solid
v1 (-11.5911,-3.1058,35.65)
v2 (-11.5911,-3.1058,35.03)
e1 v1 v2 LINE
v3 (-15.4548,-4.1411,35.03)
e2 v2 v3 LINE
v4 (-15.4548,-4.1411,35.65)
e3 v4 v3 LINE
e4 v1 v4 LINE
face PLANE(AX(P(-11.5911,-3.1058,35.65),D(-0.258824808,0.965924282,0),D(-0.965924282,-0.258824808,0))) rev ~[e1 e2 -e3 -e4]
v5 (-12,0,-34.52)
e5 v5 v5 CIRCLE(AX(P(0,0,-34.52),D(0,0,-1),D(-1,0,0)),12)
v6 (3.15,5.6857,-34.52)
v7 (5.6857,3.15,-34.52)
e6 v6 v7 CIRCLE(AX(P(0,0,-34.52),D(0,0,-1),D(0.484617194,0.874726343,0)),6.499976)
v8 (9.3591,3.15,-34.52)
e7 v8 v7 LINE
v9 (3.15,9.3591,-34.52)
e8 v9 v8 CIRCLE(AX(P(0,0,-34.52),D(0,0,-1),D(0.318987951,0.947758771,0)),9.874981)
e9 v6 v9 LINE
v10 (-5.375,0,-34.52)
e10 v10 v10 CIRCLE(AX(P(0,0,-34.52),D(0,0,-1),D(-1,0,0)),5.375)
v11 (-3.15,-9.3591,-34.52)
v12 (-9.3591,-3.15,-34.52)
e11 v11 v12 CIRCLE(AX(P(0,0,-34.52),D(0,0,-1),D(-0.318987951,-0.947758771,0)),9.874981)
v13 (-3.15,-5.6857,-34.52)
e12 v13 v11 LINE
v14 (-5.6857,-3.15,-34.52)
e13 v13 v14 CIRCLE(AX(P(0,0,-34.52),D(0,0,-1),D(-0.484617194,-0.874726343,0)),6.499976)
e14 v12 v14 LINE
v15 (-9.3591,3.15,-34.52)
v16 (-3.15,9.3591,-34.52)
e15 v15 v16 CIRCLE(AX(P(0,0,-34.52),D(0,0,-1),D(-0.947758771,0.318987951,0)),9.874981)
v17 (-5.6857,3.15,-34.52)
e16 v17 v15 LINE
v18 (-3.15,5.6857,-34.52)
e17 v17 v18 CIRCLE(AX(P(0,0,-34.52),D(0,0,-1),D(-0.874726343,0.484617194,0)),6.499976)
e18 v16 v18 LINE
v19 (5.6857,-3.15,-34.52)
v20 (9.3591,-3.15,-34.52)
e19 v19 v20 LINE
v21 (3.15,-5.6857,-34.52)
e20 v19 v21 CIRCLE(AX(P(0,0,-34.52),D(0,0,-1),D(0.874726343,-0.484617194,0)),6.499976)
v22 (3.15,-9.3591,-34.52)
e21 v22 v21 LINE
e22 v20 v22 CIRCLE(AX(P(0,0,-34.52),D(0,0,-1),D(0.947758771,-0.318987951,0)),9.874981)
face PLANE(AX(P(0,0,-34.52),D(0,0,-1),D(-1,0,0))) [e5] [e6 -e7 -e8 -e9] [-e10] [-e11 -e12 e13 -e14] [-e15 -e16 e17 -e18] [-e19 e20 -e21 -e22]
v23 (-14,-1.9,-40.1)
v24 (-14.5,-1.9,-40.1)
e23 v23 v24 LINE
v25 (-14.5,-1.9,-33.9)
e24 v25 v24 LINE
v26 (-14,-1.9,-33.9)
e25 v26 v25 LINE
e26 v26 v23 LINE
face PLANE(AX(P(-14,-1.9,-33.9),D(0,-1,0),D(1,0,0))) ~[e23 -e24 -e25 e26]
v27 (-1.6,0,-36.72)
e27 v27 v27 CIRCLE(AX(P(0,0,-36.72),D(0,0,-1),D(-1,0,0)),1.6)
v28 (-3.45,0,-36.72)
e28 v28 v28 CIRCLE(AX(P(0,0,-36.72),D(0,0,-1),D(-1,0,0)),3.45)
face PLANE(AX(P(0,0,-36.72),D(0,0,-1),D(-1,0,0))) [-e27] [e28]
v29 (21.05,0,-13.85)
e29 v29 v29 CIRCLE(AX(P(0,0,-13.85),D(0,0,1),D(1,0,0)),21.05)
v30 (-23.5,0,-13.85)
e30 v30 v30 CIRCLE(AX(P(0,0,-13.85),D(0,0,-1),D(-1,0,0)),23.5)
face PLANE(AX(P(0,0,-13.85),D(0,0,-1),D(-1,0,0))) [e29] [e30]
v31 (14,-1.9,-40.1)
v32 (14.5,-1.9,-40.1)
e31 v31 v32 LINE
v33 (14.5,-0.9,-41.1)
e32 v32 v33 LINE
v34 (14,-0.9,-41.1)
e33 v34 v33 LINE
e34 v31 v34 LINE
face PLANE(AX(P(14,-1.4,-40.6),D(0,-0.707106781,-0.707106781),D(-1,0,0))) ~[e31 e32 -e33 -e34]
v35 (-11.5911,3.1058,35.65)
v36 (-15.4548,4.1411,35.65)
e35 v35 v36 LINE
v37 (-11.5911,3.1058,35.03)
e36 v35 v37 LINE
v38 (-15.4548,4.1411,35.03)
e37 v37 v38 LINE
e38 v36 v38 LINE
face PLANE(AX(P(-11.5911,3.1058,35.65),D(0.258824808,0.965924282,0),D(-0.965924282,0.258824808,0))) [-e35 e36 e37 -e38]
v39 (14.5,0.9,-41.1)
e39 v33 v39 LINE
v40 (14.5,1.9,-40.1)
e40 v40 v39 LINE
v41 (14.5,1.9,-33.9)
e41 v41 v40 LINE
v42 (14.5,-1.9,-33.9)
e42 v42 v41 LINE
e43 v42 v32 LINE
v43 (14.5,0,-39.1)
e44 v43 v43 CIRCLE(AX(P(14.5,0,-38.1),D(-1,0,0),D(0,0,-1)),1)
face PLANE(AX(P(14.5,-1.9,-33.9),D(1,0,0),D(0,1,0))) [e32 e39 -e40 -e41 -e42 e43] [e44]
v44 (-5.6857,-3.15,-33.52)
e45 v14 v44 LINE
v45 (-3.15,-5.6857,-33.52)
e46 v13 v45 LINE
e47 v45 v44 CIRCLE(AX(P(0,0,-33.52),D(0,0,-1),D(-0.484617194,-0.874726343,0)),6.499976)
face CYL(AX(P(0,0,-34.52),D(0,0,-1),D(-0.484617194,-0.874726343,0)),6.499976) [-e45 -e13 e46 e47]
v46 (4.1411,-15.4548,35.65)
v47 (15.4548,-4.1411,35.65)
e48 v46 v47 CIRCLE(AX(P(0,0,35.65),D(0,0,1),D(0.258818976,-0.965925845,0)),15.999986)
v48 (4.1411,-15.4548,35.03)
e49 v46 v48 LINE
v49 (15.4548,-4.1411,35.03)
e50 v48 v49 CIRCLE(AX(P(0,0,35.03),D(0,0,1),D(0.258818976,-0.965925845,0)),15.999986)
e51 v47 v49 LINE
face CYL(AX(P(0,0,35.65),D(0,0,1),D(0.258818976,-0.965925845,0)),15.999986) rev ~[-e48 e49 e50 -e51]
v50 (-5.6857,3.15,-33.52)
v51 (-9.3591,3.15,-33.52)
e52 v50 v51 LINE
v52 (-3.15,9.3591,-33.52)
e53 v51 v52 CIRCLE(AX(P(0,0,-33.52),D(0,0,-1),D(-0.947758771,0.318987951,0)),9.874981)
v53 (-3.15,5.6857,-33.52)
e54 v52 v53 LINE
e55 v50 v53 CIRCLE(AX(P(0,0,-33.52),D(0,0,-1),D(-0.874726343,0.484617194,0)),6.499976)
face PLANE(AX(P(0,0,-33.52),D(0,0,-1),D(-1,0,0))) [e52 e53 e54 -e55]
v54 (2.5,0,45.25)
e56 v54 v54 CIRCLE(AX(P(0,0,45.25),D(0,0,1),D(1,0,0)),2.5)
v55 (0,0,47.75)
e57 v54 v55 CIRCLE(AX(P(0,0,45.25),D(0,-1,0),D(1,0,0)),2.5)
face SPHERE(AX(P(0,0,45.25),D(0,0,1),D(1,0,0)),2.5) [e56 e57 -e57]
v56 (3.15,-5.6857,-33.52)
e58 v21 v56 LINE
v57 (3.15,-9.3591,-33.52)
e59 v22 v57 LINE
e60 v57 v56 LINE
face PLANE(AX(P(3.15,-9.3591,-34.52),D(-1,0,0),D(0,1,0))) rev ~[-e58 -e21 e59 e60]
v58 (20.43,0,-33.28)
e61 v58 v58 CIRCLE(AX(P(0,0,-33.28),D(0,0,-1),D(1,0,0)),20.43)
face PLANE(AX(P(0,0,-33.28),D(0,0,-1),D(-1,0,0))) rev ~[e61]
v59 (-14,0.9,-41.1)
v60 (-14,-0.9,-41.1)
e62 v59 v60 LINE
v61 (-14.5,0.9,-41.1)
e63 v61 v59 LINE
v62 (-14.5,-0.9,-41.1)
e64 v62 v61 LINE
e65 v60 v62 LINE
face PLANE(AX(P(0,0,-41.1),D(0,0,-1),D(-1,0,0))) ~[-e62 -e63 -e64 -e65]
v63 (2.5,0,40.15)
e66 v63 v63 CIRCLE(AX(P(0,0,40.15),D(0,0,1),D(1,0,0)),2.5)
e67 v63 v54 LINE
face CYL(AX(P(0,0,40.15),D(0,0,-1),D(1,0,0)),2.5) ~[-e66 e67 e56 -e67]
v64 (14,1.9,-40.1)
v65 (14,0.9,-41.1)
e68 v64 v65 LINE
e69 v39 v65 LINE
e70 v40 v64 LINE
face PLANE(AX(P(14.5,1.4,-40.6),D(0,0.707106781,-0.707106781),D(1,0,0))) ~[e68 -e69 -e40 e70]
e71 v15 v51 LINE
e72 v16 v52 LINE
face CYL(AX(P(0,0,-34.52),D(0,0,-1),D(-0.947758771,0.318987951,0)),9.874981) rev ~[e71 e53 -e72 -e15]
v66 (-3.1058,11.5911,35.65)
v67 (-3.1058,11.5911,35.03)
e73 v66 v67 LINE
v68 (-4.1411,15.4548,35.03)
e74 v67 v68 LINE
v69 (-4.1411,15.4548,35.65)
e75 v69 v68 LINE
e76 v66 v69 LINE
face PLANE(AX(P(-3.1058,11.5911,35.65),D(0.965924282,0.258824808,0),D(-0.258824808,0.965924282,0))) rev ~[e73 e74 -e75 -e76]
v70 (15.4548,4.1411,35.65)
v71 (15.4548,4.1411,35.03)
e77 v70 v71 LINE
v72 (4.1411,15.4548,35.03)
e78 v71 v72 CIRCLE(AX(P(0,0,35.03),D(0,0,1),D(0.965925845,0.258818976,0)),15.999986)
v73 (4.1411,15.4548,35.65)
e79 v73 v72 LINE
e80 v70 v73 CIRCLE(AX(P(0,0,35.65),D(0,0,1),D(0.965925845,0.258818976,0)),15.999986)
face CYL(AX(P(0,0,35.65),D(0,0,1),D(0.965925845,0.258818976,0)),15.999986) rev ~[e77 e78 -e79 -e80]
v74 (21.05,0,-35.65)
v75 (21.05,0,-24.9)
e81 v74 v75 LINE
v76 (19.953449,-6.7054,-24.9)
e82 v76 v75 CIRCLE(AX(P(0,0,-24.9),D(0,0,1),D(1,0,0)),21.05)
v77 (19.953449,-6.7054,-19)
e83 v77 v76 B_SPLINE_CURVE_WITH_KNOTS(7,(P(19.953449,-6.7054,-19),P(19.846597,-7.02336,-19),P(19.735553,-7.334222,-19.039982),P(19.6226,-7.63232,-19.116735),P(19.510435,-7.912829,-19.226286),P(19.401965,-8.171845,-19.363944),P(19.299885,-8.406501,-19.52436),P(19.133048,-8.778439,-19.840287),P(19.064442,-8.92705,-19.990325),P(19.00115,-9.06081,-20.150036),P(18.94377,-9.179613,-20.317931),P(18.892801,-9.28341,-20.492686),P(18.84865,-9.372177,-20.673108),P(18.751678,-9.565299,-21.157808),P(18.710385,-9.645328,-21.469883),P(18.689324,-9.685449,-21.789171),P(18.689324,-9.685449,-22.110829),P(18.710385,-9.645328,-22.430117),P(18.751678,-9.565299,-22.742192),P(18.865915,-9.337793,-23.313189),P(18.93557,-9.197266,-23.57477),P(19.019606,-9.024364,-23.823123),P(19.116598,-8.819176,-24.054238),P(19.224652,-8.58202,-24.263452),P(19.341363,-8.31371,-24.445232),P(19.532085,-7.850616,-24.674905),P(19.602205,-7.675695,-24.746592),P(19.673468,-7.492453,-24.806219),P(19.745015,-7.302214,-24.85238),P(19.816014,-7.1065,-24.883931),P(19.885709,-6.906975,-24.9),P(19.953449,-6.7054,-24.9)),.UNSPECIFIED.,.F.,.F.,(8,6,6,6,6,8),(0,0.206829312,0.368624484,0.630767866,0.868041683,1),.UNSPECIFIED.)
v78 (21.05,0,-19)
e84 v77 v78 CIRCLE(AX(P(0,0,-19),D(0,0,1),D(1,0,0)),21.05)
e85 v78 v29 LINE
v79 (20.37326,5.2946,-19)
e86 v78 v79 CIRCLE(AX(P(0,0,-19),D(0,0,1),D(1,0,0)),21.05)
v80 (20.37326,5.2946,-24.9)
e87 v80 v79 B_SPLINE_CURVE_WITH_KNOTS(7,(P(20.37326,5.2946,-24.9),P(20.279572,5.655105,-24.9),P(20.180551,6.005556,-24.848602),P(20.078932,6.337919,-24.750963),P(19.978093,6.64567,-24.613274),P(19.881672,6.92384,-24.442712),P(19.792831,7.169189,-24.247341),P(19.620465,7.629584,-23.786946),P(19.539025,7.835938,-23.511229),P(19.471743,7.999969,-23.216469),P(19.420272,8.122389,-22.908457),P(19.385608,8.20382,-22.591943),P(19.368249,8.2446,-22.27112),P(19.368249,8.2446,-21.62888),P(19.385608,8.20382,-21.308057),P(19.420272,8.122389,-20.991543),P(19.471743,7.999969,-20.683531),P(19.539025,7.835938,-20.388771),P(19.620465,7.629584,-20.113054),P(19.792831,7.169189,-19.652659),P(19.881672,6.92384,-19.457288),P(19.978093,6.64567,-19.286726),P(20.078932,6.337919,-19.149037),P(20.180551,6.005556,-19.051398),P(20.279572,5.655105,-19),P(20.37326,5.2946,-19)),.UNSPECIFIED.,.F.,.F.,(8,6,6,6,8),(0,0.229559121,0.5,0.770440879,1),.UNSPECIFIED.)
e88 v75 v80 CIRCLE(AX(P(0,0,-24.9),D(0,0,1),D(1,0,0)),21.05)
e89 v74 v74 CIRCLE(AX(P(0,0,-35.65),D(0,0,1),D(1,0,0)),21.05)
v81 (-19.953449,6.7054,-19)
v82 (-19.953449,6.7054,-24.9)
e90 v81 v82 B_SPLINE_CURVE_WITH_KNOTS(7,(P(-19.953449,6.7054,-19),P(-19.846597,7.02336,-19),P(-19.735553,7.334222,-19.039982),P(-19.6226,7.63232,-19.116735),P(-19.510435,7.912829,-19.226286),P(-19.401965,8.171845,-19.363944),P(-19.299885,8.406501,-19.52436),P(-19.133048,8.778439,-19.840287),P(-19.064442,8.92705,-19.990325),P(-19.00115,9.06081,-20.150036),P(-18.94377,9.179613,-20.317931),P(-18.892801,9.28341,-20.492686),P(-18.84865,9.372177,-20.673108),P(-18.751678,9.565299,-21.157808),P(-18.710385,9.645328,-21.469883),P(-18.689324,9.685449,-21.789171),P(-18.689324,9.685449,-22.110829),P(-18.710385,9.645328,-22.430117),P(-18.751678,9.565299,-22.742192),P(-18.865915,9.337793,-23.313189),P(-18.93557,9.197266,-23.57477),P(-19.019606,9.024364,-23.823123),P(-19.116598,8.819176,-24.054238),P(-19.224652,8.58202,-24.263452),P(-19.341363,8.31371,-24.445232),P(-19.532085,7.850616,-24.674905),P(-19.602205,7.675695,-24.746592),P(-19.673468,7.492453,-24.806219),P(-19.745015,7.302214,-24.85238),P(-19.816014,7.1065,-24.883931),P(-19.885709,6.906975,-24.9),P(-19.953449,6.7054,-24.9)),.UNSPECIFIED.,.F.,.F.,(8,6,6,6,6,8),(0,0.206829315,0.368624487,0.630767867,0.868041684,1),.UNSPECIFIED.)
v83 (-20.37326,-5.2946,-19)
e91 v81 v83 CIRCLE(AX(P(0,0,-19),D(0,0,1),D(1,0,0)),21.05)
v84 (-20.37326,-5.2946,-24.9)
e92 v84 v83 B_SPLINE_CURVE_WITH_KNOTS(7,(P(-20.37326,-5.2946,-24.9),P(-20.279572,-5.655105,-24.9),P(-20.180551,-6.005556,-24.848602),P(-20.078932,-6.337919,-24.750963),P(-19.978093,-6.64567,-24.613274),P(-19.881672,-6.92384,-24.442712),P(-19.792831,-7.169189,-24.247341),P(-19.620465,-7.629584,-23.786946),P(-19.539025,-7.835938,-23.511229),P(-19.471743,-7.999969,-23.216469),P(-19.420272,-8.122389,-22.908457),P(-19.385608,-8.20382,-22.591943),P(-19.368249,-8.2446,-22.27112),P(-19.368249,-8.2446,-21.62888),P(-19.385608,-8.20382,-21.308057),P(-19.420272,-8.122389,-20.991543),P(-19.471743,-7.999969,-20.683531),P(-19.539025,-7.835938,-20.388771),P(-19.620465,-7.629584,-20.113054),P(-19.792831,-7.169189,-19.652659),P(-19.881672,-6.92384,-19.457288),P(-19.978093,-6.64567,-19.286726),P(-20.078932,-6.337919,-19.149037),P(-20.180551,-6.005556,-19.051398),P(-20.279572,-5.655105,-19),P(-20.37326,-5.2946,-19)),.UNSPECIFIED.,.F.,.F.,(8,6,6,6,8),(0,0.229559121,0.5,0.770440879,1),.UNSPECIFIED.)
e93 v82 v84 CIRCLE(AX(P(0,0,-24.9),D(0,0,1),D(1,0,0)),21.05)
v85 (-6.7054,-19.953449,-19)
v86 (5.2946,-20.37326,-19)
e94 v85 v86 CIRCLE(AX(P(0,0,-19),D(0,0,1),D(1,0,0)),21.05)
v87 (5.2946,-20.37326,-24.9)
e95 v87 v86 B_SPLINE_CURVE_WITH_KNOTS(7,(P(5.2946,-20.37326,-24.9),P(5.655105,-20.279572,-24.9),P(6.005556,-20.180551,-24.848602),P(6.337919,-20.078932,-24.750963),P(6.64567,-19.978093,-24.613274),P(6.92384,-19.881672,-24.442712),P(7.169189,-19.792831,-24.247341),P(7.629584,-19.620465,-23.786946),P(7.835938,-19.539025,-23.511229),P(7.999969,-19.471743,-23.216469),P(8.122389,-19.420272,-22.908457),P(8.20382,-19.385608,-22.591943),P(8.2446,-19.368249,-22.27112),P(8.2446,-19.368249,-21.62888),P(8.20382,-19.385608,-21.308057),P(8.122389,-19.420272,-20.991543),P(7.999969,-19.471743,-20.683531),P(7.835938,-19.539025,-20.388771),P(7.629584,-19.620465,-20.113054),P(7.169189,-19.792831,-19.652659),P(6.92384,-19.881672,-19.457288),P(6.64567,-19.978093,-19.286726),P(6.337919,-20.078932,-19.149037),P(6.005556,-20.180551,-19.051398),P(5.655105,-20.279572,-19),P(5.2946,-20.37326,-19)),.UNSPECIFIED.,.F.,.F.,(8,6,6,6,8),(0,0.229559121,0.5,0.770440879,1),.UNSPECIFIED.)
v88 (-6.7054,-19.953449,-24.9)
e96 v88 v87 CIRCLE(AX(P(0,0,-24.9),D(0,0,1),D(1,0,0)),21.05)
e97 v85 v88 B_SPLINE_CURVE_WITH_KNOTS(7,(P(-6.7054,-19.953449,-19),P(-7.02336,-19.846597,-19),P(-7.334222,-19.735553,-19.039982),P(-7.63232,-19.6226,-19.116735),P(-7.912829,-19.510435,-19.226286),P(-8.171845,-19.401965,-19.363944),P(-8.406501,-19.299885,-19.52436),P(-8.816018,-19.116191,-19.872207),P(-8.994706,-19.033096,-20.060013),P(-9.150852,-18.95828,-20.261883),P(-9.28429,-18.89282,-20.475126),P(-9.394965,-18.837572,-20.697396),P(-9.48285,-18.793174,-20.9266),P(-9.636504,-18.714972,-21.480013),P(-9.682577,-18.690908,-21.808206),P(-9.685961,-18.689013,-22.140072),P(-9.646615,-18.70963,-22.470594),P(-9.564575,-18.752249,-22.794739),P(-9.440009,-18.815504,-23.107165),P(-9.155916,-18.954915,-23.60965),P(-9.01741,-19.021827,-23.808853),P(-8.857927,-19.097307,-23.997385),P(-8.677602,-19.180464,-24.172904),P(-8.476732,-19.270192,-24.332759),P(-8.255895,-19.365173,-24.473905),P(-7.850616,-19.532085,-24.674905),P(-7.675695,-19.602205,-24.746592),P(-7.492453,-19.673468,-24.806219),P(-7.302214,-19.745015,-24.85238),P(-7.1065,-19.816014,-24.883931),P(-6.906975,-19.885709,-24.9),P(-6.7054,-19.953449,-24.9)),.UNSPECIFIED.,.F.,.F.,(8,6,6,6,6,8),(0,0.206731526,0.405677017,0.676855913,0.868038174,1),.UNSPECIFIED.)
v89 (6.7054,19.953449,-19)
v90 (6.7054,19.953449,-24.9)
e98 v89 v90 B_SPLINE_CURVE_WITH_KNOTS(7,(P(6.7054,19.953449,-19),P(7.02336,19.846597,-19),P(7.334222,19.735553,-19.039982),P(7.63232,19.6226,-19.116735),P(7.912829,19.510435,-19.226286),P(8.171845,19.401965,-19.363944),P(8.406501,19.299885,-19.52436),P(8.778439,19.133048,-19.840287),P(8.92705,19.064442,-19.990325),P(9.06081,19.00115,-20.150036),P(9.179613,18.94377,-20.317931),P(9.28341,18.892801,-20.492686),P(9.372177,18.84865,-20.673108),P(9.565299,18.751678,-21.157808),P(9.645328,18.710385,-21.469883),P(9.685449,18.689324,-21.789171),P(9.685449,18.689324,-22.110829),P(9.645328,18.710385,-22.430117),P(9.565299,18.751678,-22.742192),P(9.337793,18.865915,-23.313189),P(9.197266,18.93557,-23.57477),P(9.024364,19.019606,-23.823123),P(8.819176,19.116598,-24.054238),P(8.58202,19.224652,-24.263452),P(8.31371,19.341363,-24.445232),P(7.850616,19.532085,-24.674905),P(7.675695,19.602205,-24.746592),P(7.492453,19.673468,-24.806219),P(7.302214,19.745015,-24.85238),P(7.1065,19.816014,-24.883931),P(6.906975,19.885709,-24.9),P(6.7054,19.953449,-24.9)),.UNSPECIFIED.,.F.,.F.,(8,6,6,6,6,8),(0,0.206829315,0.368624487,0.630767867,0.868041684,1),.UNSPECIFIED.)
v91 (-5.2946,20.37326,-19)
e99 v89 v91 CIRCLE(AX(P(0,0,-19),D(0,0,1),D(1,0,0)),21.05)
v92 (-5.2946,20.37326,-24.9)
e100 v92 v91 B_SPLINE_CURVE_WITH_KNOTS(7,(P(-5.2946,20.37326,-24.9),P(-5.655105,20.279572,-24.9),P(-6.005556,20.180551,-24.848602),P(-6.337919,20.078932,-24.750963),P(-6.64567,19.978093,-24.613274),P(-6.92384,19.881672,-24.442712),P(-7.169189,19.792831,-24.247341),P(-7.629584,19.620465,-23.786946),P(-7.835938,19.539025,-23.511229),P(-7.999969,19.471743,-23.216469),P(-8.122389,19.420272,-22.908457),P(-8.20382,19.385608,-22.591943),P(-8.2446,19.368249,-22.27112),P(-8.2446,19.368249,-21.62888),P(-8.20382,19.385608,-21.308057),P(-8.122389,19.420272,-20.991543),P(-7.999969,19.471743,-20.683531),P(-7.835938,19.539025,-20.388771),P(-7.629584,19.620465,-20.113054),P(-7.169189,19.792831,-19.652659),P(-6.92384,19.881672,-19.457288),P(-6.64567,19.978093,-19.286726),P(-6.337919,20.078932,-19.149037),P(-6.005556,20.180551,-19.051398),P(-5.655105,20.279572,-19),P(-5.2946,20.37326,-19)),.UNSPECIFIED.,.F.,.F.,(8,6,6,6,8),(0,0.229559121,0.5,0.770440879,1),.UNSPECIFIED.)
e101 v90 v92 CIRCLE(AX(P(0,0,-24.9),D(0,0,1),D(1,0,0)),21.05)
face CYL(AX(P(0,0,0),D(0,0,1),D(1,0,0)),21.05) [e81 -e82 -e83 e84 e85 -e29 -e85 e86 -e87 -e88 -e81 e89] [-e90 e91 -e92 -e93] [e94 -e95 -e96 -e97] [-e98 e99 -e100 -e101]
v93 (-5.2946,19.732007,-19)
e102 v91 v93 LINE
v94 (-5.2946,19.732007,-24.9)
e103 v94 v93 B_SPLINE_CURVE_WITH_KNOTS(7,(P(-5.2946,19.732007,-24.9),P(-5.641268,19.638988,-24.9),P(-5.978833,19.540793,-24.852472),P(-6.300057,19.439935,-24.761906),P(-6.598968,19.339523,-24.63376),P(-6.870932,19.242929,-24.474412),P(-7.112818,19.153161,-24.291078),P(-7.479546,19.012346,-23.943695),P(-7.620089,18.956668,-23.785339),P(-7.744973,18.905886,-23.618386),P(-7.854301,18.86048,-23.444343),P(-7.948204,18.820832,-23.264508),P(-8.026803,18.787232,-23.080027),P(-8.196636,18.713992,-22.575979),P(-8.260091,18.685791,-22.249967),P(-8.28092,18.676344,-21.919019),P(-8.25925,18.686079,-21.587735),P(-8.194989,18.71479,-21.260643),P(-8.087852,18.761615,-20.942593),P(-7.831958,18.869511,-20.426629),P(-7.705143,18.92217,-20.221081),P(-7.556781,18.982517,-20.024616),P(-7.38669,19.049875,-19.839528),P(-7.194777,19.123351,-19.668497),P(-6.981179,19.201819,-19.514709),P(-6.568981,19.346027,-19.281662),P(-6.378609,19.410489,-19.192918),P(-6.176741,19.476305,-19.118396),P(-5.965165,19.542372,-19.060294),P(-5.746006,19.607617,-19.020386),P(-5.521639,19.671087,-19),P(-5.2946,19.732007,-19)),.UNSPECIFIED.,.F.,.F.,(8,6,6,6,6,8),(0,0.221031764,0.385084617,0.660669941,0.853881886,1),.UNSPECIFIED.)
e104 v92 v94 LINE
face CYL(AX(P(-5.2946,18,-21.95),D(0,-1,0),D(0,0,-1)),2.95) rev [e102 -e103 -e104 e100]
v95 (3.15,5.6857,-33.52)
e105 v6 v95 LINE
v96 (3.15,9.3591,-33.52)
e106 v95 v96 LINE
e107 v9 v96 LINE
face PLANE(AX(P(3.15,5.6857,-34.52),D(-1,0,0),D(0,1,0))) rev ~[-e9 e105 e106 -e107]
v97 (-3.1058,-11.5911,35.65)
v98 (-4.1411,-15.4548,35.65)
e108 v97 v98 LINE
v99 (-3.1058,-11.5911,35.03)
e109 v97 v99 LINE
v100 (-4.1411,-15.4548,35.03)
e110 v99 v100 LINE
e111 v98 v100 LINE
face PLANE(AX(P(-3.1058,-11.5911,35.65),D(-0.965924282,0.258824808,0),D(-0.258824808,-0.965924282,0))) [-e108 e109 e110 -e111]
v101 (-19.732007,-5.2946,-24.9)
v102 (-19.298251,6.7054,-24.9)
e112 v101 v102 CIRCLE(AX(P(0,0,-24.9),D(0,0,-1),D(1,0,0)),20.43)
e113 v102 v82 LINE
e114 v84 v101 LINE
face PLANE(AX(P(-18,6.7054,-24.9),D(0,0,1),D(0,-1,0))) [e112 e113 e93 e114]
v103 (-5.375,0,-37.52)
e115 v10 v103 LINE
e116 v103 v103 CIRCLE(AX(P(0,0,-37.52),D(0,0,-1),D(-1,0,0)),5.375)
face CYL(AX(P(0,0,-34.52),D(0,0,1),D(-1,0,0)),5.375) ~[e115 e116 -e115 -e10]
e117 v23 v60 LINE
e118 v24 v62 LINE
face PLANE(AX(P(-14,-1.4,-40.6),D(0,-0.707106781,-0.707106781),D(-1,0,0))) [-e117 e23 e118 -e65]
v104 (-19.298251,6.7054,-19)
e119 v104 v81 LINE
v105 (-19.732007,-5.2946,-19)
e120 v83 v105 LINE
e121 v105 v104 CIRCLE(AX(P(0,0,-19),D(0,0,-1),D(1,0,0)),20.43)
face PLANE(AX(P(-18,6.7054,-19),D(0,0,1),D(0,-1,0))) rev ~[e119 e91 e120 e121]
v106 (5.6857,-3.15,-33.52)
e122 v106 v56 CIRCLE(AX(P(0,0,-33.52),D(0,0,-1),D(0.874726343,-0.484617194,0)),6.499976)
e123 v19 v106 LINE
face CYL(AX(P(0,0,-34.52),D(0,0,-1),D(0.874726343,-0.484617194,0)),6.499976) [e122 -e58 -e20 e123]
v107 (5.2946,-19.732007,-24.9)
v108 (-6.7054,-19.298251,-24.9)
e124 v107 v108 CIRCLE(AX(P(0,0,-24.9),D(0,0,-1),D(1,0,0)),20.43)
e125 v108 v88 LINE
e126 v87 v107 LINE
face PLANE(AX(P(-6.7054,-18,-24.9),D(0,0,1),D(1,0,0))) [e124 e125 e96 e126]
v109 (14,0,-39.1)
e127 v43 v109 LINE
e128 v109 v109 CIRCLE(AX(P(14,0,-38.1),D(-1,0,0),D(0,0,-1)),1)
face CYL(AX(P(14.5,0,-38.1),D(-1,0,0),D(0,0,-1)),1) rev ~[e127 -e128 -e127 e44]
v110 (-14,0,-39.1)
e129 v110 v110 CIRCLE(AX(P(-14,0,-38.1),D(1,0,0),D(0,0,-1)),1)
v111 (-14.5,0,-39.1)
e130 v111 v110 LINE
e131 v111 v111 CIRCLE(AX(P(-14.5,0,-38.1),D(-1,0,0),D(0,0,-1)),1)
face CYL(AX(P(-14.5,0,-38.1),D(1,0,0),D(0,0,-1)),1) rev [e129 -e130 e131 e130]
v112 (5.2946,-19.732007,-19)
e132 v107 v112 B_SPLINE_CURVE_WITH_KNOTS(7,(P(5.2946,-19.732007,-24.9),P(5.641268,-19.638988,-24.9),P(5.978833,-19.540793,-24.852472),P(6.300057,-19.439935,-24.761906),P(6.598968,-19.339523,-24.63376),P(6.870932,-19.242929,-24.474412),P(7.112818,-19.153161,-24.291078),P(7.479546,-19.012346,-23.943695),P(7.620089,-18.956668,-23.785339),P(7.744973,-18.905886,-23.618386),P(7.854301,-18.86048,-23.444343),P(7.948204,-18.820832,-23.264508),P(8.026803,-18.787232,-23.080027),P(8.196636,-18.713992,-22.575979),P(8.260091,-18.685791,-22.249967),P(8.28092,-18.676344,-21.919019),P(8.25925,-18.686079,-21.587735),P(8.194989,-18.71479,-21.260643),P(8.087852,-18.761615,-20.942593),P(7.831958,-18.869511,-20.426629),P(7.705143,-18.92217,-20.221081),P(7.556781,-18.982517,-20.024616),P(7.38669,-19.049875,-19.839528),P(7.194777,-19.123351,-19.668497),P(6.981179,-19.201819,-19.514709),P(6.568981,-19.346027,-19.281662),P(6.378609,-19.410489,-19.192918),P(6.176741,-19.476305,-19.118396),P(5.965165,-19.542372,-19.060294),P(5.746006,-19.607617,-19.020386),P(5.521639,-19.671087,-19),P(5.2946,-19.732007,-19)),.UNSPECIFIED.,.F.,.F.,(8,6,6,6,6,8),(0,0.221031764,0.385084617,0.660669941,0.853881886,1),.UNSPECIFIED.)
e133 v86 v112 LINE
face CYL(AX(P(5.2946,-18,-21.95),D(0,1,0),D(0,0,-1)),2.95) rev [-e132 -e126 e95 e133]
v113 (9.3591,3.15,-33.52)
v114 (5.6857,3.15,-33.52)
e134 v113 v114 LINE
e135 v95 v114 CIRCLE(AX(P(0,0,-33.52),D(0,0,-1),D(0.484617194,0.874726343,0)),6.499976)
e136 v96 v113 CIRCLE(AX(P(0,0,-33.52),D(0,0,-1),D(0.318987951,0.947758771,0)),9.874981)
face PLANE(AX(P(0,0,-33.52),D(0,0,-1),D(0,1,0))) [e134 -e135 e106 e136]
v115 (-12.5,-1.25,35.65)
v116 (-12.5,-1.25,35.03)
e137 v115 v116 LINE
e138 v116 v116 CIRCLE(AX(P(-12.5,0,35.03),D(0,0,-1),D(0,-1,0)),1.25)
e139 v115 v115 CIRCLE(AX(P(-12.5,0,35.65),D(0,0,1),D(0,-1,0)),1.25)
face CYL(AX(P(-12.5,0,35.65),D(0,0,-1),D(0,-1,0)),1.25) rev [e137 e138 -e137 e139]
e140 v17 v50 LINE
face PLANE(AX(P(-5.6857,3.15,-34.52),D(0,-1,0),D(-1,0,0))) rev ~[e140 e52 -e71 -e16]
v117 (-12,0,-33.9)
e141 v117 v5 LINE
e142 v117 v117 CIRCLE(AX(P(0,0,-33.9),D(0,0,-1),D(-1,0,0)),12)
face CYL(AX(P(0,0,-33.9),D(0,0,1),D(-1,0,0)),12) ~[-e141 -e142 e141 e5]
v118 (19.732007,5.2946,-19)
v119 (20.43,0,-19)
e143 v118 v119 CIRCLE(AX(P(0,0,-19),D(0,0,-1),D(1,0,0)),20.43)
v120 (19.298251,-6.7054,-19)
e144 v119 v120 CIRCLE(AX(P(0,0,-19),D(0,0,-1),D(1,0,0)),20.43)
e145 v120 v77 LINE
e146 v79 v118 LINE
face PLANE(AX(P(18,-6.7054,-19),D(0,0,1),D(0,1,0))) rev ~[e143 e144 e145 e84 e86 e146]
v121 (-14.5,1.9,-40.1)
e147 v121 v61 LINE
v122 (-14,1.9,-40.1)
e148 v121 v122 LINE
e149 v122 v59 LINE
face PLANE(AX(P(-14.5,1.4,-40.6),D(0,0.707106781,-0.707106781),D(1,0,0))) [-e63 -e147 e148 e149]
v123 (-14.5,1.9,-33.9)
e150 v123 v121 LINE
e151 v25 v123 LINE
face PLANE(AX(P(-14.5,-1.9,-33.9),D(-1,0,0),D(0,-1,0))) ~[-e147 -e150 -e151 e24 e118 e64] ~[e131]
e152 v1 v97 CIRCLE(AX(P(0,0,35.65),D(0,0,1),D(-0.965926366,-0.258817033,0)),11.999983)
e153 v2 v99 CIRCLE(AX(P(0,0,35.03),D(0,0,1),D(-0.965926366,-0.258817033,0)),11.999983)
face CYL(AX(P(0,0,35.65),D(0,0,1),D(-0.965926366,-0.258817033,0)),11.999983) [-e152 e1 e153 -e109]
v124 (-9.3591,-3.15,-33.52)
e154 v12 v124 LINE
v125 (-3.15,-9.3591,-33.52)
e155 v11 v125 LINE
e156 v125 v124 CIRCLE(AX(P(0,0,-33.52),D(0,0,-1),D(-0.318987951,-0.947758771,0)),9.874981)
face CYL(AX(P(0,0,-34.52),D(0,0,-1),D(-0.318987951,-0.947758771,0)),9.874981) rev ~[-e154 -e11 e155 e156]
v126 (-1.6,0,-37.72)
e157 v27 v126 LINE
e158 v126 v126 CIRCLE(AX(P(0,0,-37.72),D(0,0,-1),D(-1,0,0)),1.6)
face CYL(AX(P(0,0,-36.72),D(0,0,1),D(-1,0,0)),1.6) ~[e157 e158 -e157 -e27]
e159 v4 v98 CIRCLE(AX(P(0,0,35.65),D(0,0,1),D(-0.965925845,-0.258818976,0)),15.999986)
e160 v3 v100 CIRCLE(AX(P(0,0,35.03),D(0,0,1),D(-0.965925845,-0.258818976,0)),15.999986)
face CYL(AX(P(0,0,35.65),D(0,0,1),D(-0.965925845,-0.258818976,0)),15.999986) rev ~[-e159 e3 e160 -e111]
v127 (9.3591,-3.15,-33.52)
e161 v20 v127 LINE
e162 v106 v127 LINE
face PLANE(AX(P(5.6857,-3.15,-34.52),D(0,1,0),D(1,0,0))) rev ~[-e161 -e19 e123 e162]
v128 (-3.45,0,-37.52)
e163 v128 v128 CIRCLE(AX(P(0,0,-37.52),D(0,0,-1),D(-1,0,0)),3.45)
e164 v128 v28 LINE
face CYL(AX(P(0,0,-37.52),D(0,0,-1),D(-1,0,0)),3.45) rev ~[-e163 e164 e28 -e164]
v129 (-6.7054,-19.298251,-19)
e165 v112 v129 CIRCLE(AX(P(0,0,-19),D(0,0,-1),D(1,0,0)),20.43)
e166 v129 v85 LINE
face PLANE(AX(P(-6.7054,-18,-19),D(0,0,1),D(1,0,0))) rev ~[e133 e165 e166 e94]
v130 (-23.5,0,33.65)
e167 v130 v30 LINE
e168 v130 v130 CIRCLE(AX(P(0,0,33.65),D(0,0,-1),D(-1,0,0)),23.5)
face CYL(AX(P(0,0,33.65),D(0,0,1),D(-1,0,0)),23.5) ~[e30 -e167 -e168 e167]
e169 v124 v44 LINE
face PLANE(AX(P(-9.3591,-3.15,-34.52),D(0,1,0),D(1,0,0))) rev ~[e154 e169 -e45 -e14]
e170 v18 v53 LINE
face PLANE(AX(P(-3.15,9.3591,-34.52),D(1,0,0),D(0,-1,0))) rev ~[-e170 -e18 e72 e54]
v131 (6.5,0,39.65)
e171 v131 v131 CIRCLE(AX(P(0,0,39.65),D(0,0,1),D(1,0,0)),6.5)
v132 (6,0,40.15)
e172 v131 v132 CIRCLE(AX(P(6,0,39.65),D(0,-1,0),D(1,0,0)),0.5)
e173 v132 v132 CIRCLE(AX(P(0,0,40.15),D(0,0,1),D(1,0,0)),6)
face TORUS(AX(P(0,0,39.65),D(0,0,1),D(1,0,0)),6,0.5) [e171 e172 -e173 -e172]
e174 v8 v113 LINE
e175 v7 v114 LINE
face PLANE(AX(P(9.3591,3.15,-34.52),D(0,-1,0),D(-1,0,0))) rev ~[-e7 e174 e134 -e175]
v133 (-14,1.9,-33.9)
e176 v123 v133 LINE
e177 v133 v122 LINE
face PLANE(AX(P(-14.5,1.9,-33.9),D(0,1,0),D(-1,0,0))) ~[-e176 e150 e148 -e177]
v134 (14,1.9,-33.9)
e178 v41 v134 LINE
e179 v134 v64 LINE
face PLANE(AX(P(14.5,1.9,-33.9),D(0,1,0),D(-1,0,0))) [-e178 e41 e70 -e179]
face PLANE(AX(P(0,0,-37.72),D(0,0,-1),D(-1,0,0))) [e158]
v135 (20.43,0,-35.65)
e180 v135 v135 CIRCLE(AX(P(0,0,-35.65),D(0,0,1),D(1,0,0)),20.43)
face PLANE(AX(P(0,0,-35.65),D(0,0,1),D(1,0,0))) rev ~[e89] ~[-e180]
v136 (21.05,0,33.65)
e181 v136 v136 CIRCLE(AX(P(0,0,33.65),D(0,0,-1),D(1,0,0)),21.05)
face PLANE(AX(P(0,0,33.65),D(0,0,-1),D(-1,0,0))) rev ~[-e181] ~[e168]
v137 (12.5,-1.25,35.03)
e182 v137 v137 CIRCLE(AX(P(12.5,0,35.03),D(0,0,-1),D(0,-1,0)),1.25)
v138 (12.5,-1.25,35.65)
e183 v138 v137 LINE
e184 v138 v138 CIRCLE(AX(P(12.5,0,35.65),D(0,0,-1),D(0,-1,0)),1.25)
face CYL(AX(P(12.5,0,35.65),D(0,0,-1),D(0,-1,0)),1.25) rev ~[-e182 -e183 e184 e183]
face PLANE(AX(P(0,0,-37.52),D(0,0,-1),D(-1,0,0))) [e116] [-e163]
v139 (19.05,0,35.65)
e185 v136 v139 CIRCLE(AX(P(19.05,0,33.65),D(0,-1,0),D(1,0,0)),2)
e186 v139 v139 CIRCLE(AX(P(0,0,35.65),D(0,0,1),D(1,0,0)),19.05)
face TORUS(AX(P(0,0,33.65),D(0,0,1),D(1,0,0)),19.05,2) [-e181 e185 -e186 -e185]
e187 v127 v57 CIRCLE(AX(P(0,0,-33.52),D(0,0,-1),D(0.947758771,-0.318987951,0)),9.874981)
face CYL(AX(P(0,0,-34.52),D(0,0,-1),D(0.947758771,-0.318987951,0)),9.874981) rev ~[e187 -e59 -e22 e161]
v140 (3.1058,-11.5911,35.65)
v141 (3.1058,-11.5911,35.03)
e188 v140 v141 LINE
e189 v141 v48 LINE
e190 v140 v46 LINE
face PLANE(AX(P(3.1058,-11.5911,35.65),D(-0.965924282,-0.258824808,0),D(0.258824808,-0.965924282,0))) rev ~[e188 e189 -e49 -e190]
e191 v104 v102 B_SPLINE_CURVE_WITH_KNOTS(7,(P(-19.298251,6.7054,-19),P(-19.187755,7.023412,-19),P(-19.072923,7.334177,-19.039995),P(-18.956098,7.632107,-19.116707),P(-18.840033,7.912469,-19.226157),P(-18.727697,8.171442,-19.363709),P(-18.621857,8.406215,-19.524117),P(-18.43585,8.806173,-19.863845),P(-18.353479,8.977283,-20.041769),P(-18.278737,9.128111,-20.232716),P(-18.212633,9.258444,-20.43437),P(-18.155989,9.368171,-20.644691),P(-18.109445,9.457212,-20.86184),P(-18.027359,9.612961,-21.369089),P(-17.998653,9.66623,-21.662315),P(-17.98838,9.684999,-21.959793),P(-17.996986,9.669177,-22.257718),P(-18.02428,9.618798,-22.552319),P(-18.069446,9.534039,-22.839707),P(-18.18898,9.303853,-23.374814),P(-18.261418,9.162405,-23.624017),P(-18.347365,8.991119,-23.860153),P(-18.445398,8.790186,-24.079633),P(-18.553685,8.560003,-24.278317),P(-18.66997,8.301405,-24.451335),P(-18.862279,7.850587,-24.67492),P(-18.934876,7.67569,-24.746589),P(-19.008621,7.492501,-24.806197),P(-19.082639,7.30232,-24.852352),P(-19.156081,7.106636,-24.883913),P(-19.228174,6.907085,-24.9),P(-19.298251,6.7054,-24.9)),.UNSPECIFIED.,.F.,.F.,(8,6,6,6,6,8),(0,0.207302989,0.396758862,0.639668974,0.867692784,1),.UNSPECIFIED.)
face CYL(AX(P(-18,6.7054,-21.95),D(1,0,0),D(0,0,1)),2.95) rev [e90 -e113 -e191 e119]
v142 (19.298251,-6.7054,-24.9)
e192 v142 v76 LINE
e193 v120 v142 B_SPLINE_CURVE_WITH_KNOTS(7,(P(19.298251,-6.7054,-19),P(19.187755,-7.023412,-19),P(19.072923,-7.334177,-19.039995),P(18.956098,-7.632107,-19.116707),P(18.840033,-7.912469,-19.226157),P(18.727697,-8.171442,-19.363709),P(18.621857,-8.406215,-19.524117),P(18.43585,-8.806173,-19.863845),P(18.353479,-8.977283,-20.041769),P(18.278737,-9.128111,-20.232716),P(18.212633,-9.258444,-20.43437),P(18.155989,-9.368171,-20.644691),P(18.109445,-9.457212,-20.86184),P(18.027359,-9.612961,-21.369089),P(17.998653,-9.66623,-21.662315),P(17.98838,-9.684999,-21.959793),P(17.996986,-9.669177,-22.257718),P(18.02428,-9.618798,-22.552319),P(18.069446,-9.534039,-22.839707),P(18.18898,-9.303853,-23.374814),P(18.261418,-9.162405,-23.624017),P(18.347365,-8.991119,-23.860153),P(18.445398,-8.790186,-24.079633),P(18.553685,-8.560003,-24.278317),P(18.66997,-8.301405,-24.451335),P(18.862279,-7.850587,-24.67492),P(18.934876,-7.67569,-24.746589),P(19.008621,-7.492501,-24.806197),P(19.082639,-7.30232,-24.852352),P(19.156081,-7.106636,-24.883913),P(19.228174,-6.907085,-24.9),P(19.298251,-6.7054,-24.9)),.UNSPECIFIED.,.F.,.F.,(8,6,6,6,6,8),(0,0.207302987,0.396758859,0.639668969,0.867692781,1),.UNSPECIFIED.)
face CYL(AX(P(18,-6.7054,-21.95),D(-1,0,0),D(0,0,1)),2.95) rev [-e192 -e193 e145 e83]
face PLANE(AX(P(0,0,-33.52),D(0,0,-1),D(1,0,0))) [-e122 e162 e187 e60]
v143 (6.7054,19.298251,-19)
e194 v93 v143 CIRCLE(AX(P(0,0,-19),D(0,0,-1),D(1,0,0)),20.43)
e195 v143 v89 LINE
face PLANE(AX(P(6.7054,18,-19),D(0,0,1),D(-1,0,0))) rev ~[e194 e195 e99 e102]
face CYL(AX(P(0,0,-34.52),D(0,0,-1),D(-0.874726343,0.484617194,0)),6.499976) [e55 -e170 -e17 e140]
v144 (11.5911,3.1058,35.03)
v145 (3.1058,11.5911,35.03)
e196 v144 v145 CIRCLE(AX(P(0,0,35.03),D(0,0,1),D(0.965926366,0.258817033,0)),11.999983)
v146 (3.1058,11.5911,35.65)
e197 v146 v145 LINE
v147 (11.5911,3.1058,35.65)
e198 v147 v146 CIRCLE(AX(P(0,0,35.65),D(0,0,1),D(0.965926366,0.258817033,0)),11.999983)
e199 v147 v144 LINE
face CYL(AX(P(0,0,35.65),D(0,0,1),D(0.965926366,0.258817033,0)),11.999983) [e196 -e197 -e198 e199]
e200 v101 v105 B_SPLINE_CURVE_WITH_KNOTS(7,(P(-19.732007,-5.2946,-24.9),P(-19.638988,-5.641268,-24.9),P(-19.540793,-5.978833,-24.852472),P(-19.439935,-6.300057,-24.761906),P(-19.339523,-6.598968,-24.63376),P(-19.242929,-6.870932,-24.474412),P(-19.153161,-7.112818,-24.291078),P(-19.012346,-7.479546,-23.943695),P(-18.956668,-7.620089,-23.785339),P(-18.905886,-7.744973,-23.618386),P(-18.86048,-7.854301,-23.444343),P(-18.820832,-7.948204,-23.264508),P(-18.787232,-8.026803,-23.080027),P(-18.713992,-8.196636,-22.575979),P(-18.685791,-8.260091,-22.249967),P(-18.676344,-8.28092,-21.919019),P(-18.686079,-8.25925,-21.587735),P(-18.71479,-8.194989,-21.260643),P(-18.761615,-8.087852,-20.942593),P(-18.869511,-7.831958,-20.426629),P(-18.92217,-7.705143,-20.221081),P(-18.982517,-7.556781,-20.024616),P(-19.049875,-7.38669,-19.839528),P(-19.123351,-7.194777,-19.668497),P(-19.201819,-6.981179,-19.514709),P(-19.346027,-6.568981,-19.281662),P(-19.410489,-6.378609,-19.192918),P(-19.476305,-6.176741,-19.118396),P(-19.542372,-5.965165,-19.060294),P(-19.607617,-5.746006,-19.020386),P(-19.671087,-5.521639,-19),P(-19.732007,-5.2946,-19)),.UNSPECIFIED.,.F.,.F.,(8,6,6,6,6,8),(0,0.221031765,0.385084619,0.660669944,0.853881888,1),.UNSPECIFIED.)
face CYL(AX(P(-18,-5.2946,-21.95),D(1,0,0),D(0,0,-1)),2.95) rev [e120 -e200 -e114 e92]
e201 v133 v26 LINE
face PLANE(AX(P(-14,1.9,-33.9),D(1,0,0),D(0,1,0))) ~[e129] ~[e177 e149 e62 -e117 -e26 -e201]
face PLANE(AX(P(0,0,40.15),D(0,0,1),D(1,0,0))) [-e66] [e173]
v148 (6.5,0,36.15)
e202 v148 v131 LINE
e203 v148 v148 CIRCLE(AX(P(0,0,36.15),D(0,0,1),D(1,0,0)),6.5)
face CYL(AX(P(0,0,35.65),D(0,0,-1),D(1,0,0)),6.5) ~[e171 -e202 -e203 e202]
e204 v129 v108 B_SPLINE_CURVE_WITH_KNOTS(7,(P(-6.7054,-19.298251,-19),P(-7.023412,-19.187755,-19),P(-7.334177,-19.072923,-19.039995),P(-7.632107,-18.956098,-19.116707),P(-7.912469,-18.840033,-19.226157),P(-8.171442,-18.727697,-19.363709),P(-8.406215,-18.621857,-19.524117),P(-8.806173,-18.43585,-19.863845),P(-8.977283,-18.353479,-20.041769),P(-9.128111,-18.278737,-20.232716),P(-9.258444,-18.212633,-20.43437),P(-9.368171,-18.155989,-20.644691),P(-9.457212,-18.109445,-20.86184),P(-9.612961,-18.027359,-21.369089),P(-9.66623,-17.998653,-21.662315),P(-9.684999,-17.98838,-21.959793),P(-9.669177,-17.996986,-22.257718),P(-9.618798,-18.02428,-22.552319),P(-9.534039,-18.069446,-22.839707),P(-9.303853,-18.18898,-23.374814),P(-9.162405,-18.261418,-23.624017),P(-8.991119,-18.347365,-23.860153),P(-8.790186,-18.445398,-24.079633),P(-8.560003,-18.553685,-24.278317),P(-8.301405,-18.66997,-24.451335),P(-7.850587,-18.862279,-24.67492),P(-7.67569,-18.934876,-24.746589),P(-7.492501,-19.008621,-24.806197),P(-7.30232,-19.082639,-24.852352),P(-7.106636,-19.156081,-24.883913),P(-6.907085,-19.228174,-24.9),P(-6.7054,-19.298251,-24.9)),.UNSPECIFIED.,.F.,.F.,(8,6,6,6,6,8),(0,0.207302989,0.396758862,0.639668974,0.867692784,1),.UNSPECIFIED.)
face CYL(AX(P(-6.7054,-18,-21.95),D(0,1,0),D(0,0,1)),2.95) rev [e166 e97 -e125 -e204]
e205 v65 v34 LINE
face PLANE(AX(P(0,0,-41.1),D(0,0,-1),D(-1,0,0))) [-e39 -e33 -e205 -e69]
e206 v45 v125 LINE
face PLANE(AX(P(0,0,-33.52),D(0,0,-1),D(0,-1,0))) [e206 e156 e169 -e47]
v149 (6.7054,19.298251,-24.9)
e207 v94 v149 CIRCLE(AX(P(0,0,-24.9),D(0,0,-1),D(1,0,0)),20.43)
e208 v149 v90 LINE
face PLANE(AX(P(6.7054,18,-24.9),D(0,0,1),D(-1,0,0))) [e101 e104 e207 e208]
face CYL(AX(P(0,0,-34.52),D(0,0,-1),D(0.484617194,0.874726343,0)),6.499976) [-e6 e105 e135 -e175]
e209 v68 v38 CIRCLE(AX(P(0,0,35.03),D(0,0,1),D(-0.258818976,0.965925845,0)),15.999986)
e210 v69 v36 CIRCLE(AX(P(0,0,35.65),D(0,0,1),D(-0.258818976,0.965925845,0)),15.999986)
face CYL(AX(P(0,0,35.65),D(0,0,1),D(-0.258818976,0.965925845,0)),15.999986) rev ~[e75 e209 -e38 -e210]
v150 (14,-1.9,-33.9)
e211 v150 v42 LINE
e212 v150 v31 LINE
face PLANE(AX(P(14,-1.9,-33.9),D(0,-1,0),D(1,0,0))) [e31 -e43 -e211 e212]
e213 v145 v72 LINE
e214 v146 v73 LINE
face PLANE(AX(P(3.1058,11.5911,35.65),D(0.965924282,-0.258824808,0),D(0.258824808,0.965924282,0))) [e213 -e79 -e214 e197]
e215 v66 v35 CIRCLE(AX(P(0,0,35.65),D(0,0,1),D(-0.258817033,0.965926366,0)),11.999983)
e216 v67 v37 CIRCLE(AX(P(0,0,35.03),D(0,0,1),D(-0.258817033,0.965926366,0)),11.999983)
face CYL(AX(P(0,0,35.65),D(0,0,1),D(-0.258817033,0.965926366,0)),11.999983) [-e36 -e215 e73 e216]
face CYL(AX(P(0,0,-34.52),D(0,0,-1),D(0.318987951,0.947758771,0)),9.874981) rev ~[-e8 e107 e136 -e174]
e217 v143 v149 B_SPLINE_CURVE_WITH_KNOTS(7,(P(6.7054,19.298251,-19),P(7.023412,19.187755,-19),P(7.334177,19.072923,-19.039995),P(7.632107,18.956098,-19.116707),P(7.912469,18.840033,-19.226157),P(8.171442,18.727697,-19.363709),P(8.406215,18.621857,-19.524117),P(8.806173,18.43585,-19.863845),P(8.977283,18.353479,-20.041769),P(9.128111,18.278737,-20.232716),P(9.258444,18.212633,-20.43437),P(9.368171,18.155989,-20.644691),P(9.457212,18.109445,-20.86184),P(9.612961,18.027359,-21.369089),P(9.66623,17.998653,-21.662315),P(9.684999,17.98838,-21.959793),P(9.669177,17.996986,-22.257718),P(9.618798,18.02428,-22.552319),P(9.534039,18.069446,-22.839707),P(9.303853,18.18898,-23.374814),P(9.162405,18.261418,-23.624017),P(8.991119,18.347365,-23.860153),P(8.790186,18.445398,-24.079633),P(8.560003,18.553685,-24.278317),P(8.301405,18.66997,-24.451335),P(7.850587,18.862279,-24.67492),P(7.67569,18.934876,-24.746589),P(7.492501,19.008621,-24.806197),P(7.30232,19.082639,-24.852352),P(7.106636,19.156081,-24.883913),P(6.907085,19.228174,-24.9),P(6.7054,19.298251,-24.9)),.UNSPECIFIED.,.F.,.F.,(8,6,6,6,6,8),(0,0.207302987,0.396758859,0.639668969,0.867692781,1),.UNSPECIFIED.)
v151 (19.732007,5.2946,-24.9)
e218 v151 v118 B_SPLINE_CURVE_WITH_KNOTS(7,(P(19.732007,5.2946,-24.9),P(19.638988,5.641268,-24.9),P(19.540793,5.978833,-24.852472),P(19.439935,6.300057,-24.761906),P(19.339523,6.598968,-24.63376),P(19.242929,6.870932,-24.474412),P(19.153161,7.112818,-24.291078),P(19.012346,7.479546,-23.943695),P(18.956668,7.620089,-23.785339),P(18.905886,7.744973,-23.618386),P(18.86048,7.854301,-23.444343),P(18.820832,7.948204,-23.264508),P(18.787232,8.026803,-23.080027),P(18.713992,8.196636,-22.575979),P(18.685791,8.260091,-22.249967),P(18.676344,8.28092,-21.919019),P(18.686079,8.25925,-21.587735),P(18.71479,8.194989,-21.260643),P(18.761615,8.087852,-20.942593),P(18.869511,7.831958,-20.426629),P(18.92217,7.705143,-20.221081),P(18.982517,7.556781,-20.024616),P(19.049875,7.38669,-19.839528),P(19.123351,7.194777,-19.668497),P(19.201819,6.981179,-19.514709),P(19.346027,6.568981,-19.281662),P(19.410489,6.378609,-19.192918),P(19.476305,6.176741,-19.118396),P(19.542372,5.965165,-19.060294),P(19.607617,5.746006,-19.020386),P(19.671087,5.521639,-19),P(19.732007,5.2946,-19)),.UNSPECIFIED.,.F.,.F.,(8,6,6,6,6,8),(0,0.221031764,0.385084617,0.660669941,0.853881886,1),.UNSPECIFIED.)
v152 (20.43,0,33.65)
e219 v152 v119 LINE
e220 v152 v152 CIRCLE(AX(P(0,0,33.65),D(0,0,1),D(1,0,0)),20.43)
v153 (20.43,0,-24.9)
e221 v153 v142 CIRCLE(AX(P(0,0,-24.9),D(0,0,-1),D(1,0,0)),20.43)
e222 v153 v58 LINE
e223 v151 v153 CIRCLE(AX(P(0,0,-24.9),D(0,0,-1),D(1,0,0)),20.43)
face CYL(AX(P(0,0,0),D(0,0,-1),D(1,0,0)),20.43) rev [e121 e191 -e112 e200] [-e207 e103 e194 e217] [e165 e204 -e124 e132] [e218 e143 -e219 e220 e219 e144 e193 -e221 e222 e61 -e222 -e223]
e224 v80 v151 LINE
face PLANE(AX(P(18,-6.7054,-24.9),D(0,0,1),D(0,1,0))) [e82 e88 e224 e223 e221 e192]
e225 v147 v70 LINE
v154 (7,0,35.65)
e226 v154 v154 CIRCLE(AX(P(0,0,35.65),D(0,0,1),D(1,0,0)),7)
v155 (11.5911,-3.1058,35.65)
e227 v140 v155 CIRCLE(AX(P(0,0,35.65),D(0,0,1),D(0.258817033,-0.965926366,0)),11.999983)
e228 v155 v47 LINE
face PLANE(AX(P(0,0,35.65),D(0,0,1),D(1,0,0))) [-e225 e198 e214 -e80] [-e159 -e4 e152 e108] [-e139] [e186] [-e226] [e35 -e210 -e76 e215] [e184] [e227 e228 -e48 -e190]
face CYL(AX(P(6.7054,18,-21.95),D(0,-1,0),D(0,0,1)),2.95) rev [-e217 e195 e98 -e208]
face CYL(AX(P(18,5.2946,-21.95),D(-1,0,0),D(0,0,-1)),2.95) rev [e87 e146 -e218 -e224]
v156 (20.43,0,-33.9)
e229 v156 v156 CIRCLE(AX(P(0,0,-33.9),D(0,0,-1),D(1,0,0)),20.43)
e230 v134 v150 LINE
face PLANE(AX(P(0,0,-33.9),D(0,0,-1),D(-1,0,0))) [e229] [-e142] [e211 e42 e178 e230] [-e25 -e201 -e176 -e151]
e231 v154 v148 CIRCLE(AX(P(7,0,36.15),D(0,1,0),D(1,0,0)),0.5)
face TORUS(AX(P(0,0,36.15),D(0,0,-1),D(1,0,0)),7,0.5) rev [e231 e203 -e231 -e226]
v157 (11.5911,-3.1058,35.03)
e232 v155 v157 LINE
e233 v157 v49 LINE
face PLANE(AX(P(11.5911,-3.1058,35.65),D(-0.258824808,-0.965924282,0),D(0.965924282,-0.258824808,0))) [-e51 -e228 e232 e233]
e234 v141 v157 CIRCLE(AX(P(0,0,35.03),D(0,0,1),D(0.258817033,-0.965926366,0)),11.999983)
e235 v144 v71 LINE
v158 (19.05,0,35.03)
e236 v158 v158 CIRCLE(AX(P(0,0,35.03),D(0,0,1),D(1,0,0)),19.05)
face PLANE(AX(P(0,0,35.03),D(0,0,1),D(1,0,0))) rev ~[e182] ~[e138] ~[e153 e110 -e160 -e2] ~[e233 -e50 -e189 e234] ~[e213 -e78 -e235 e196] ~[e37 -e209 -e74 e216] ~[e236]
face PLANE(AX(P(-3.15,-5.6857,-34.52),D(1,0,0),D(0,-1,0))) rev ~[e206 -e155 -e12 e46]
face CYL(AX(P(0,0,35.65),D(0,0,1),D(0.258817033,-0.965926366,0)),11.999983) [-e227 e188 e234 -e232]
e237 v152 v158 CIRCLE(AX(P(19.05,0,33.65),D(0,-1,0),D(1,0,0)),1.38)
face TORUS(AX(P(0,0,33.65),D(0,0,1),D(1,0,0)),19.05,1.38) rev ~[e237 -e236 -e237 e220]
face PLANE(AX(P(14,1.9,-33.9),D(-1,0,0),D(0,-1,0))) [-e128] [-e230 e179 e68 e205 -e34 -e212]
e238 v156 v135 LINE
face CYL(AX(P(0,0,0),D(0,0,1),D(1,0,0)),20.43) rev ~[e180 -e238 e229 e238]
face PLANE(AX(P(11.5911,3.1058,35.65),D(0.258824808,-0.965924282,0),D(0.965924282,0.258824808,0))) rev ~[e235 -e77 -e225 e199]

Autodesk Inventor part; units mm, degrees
sketch "Sketch1" plane through (0, 0, 0) normal (0, 0, 1) x (1, 0, 0)
  circle A0 centre (0, 0) radius 21.05
  dimension "d0" = 42.1
extrude "Extrusion1" add sketch "Sketch1" along normal mid plane 71.3
fillet "Fillet1" radius 2 1 edges at (-21.05, 0, 35.65)
shell "Shell1" thickness 0.62 removed faces 1 at (3.9859, -5.7746, -35.65)
sketch "Sketch2" plane through (0, 0, 35.65) normal (0, 0, 1) x (1, 0, 0)
  circle A0 centre (0, 0) radius 19.05 projected
  circle A1 centre (0, 0) radius 6.5
  dimension "d5" = 13
extrude "Extrusion2" add sketch "Sketch2" along normal blind 4.5 contours A1
fillet "Fillet2" radius 0.5 2 edges at (-6.5, 0, 35.65) (-6.5, 0, 40.15)
sketch "Sketch3" plane through (0, 0, 40.15) normal (0, 0, 1) x (1, 0, 0)
  circle A0 centre (0, 0) radius 6 projected
  circle A1 centre (0, 0) radius 2.5
  dimension "d9" = 5
extrude "Extrusion3" add sketch "Sketch3" along normal blind 7.6 contours A1
fillet "Fillet3" radius 2.5 1 edges at (-2.5, 0, 47.75)
sketch "Sketch4" plane through (0, 0, 35.65) normal (0, 0, 1) x (1, 0, 0)
  circle A0 centre (0, 0) radius 19.05 projected
  point P0 (12.5, 0)
  dimension "d13" = 12.5
hole "Hole1" at (12.5, 0, 35.65) direction (0, 0, -1) diameter 2.5 depth 8 tip angle 118
mirror "Mirror1" about plane through (0, 0, 0) normal (1, 0, 0) of "Hole1"
sketch "Sketch5" plane through (0, 0, 35.65) normal (0, 0, 1) x (1, 0, 0)
  circle A0 centre (12.5, 0) radius 1.25 projected
  circle A1 centre (0, 0) radius 7 projected
  arc A2 (15.4548, 4.1411) -> (4.1411, 15.4548) centre (0, 0) ccw
  arc A3 (11.5911, 3.1058) -> (3.1058, 11.5911) centre (0, 0) ccw
  line L0 (0, 0) -> (4.1411, 15.4548) construction
  line L1 (0, 0) -> (15.4548, 4.1411) construction
  line L2 (3.1058, 11.5911) -> (4.1411, 15.4548)
  line L3 (11.5911, 3.1058) -> (15.4548, 4.1411)
  line L4 (0, 0) -> (12.5, 0) construction
  line L5 (0.151, 0.5634) -> (0.151, 14.7153) construction
  dimension "d21" = 15
  dimension "d22" = 15
  dimension "d23" = 16
  dimension "d24" = 12
extrude "Extrusion4" cut sketch "Sketch5" against normal blind 10 contours L3 A3 L2 A2
pattern_circular "Circular Pattern1" count 4 over 360 about axis through (0, 0, 0) along (0, 0, 1) of "Extrusion4"
ref_plane "Work Plane1" through (0, 0, -33.9) normal (0, 0, -1) x (-1, 0, 0)
sketch "Sketch6" plane through (0, 0, -33.9) normal (0, 0, -1) x (-1, 0, 0)
  circle A0 centre (0, 0) radius 20.43 projected
extrude "Extrusion5" add sketch "Sketch6" against normal blind 0.62
sketch "Sketch7" plane through (0, 0, -33.9) normal (0, 0, -1) x (-1, 0, 0)
  circle A0 centre (0, 0) radius 20.43 projected
  circle A1 centre (0, 0) radius 12
  dimension "d33" = 24
extrude "Extrusion6" add sketch "Sketch7" along normal blind 0.62 contours A1
sketch "Sketch8" plane through (0, 0, -34.52) normal (0, 0, -1) x (-1, 0, 0)
  circle A0 centre (0, 0) radius 12 projected
  circle A1 centre (0, 0) radius 5.375
  dimension "d36" = 10.75
extrude "Extrusion7" add sketch "Sketch8" along normal blind 3 contours A1
sketch "Sketch9" plane through (0, 0, -37.52) normal (0, 0, -1) x (-1, 0, 0)
  circle A0 centre (0, 0) radius 5.375 projected
  circle A1 centre (0, 0) radius 3.45
  dimension "d39" = 6.9
extrude "Extrusion8" cut sketch "Sketch9" against normal blind 0.8 contours A1
sketch "Sketch10" plane through (0, 0, -36.72) normal (0, 0, -1) x (-1, 0, 0)
  circle A0 centre (0, 0) radius 3.45 projected
  circle A1 centre (0, 0) radius 1.6
  dimension "d42" = 3.2
extrude "Extrusion9" add sketch "Sketch10" along normal blind 1 contours A1
sketch "Sketch11" plane through (0, 0, -34.52) normal (0, 0, -1) x (-1, 0, 0)
  circle A0 centre (0, 0) radius 5.375 projected
  circle A1 centre (0, 0) radius 12 projected
  arc A2 (9.3591, 3.15) -> (3.15, 9.3591) centre (0, 0) ccw
  arc A3 (5.6857, 3.15) -> (3.15, 5.6857) centre (0, 0) ccw
  line L0 (3.15, 9.3591) -> (3.15, 5.6857)
  line L1 (5.6857, 3.15) -> (9.3591, 3.15)
  dimension "d45" = 3.15
  dimension "d46" = 3.15
  dimension "d47" = 9.875
  dimension "d48" = 6.5
extrude "Extrusion10" cut sketch "Sketch11" against normal blind 1 contours L1 A3 L0 A2
pattern_circular "Circular Pattern2" count 4 over 360 about axis through (0, 0, 0) along (0, 0, 1) of "Extrusion10"
sketch "Sketch12" plane through (0, 0, -33.9) normal (0, 0, -1) x (-1, 0, 0)
  circle A0 centre (0, 0) radius 12 projected
  circle A1 centre (0, 0) radius 20.43 projected
  line L0 (-14.5, 1.9) -> (-14, 1.9)
  line L1 (-14, 1.9) -> (-14, -1.9)
  line L2 (-14, -1.9) -> (-14.5, -1.9)
  line L3 (-14.5, -1.9) -> (-14.5, 1.9)
  line L4 (0, 0) -> (-16.9017, 0) construction
  point P0 (-14, 0)
  dimension "d54" = 0.5
  dimension "d55" = 3.8
  dimension "d56" = 14
extrude "Extrusion11" add sketch "Sketch12" along normal blind 7.2 contours L0 L1 L2 L3
chamfer "Chamfer1" distance 1 angle 45 2 edges at (14.25, 1.9, -41.1) (14.25, -1.9, -41.1)
sketch "Sketch13" plane through (14.5, -1.9, -33.9) normal (1, 0, 0) x (0, 0, -1)
  line L0 (7.2, 1) -> (7.2, 2.8) projected
  line L1 (4.2, 1.9) -> (6.2, 3.8) construction
  line L2 (4.2, 1.9) -> (6.2, 0) construction
  dimension "d61" = 3
hole "Hole2" at (14.5, 0, -38.1) direction (-1, 0, 0) diameter 2 depth 1 tip angle 118
mirror "Mirror2" about plane through (0, 0, 0) normal (1, 0, 0) of "Extrusion11", "Chamfer1", "Hole2"
ref_plane "Work Plane2" through (18, 0, 0) normal (1, 0, 0) x (0, 1, 0)
sketch "Sketch14" plane through (18, 0, 0) normal (1, 0, 0) x (0, 1, 0)
  arc A0 (-6.7054, -19) -> (-6.7054, -24.9) centre (-6.7054, -21.95) ccw
  arc A1 (5.2946, -24.9) -> (5.2946, -19) centre (5.2946, -21.95) ccw
  line L0 (-6.7054, -19) -> (5.2946, -19)
  line L1 (-6.7054, -24.9) -> (5.2946, -24.9)
  line L2 (21.05, -35.65) -> (-21.05, -35.65) projected
  line L3 (0, -35.65) -> (0, 10.0064) construction
  dimension "d70" = 10.75
  dimension "d71" = 5.9
  dimension "d72" = 12
extrude "Extrusion12" cut sketch "Sketch14" along normal mid plane 7.2
ref_plane "Work Plane3" through (0, 0, 33.65) normal (0, 0, -1) x (-1, 0, 0)
sketch "Sketch15" plane through (0, 0, 33.65) normal (0, 0, -1) x (-1, 0, 0)
  circle A0 centre (0, 0) radius 21.05 projected
  circle A1 centre (0, 0) radius 23.5
  dimension "d76" = 2.45
extrude "Flux Ring" add sketch "Sketch15" along normal blind 47.5
pattern_circular "Circular Pattern3" count 4 over 360 about axis through (0, 0, 0) along (0, 0, 1) of "Extrusion12"
properties part number "fc18-081" material "Steel, Mild"
